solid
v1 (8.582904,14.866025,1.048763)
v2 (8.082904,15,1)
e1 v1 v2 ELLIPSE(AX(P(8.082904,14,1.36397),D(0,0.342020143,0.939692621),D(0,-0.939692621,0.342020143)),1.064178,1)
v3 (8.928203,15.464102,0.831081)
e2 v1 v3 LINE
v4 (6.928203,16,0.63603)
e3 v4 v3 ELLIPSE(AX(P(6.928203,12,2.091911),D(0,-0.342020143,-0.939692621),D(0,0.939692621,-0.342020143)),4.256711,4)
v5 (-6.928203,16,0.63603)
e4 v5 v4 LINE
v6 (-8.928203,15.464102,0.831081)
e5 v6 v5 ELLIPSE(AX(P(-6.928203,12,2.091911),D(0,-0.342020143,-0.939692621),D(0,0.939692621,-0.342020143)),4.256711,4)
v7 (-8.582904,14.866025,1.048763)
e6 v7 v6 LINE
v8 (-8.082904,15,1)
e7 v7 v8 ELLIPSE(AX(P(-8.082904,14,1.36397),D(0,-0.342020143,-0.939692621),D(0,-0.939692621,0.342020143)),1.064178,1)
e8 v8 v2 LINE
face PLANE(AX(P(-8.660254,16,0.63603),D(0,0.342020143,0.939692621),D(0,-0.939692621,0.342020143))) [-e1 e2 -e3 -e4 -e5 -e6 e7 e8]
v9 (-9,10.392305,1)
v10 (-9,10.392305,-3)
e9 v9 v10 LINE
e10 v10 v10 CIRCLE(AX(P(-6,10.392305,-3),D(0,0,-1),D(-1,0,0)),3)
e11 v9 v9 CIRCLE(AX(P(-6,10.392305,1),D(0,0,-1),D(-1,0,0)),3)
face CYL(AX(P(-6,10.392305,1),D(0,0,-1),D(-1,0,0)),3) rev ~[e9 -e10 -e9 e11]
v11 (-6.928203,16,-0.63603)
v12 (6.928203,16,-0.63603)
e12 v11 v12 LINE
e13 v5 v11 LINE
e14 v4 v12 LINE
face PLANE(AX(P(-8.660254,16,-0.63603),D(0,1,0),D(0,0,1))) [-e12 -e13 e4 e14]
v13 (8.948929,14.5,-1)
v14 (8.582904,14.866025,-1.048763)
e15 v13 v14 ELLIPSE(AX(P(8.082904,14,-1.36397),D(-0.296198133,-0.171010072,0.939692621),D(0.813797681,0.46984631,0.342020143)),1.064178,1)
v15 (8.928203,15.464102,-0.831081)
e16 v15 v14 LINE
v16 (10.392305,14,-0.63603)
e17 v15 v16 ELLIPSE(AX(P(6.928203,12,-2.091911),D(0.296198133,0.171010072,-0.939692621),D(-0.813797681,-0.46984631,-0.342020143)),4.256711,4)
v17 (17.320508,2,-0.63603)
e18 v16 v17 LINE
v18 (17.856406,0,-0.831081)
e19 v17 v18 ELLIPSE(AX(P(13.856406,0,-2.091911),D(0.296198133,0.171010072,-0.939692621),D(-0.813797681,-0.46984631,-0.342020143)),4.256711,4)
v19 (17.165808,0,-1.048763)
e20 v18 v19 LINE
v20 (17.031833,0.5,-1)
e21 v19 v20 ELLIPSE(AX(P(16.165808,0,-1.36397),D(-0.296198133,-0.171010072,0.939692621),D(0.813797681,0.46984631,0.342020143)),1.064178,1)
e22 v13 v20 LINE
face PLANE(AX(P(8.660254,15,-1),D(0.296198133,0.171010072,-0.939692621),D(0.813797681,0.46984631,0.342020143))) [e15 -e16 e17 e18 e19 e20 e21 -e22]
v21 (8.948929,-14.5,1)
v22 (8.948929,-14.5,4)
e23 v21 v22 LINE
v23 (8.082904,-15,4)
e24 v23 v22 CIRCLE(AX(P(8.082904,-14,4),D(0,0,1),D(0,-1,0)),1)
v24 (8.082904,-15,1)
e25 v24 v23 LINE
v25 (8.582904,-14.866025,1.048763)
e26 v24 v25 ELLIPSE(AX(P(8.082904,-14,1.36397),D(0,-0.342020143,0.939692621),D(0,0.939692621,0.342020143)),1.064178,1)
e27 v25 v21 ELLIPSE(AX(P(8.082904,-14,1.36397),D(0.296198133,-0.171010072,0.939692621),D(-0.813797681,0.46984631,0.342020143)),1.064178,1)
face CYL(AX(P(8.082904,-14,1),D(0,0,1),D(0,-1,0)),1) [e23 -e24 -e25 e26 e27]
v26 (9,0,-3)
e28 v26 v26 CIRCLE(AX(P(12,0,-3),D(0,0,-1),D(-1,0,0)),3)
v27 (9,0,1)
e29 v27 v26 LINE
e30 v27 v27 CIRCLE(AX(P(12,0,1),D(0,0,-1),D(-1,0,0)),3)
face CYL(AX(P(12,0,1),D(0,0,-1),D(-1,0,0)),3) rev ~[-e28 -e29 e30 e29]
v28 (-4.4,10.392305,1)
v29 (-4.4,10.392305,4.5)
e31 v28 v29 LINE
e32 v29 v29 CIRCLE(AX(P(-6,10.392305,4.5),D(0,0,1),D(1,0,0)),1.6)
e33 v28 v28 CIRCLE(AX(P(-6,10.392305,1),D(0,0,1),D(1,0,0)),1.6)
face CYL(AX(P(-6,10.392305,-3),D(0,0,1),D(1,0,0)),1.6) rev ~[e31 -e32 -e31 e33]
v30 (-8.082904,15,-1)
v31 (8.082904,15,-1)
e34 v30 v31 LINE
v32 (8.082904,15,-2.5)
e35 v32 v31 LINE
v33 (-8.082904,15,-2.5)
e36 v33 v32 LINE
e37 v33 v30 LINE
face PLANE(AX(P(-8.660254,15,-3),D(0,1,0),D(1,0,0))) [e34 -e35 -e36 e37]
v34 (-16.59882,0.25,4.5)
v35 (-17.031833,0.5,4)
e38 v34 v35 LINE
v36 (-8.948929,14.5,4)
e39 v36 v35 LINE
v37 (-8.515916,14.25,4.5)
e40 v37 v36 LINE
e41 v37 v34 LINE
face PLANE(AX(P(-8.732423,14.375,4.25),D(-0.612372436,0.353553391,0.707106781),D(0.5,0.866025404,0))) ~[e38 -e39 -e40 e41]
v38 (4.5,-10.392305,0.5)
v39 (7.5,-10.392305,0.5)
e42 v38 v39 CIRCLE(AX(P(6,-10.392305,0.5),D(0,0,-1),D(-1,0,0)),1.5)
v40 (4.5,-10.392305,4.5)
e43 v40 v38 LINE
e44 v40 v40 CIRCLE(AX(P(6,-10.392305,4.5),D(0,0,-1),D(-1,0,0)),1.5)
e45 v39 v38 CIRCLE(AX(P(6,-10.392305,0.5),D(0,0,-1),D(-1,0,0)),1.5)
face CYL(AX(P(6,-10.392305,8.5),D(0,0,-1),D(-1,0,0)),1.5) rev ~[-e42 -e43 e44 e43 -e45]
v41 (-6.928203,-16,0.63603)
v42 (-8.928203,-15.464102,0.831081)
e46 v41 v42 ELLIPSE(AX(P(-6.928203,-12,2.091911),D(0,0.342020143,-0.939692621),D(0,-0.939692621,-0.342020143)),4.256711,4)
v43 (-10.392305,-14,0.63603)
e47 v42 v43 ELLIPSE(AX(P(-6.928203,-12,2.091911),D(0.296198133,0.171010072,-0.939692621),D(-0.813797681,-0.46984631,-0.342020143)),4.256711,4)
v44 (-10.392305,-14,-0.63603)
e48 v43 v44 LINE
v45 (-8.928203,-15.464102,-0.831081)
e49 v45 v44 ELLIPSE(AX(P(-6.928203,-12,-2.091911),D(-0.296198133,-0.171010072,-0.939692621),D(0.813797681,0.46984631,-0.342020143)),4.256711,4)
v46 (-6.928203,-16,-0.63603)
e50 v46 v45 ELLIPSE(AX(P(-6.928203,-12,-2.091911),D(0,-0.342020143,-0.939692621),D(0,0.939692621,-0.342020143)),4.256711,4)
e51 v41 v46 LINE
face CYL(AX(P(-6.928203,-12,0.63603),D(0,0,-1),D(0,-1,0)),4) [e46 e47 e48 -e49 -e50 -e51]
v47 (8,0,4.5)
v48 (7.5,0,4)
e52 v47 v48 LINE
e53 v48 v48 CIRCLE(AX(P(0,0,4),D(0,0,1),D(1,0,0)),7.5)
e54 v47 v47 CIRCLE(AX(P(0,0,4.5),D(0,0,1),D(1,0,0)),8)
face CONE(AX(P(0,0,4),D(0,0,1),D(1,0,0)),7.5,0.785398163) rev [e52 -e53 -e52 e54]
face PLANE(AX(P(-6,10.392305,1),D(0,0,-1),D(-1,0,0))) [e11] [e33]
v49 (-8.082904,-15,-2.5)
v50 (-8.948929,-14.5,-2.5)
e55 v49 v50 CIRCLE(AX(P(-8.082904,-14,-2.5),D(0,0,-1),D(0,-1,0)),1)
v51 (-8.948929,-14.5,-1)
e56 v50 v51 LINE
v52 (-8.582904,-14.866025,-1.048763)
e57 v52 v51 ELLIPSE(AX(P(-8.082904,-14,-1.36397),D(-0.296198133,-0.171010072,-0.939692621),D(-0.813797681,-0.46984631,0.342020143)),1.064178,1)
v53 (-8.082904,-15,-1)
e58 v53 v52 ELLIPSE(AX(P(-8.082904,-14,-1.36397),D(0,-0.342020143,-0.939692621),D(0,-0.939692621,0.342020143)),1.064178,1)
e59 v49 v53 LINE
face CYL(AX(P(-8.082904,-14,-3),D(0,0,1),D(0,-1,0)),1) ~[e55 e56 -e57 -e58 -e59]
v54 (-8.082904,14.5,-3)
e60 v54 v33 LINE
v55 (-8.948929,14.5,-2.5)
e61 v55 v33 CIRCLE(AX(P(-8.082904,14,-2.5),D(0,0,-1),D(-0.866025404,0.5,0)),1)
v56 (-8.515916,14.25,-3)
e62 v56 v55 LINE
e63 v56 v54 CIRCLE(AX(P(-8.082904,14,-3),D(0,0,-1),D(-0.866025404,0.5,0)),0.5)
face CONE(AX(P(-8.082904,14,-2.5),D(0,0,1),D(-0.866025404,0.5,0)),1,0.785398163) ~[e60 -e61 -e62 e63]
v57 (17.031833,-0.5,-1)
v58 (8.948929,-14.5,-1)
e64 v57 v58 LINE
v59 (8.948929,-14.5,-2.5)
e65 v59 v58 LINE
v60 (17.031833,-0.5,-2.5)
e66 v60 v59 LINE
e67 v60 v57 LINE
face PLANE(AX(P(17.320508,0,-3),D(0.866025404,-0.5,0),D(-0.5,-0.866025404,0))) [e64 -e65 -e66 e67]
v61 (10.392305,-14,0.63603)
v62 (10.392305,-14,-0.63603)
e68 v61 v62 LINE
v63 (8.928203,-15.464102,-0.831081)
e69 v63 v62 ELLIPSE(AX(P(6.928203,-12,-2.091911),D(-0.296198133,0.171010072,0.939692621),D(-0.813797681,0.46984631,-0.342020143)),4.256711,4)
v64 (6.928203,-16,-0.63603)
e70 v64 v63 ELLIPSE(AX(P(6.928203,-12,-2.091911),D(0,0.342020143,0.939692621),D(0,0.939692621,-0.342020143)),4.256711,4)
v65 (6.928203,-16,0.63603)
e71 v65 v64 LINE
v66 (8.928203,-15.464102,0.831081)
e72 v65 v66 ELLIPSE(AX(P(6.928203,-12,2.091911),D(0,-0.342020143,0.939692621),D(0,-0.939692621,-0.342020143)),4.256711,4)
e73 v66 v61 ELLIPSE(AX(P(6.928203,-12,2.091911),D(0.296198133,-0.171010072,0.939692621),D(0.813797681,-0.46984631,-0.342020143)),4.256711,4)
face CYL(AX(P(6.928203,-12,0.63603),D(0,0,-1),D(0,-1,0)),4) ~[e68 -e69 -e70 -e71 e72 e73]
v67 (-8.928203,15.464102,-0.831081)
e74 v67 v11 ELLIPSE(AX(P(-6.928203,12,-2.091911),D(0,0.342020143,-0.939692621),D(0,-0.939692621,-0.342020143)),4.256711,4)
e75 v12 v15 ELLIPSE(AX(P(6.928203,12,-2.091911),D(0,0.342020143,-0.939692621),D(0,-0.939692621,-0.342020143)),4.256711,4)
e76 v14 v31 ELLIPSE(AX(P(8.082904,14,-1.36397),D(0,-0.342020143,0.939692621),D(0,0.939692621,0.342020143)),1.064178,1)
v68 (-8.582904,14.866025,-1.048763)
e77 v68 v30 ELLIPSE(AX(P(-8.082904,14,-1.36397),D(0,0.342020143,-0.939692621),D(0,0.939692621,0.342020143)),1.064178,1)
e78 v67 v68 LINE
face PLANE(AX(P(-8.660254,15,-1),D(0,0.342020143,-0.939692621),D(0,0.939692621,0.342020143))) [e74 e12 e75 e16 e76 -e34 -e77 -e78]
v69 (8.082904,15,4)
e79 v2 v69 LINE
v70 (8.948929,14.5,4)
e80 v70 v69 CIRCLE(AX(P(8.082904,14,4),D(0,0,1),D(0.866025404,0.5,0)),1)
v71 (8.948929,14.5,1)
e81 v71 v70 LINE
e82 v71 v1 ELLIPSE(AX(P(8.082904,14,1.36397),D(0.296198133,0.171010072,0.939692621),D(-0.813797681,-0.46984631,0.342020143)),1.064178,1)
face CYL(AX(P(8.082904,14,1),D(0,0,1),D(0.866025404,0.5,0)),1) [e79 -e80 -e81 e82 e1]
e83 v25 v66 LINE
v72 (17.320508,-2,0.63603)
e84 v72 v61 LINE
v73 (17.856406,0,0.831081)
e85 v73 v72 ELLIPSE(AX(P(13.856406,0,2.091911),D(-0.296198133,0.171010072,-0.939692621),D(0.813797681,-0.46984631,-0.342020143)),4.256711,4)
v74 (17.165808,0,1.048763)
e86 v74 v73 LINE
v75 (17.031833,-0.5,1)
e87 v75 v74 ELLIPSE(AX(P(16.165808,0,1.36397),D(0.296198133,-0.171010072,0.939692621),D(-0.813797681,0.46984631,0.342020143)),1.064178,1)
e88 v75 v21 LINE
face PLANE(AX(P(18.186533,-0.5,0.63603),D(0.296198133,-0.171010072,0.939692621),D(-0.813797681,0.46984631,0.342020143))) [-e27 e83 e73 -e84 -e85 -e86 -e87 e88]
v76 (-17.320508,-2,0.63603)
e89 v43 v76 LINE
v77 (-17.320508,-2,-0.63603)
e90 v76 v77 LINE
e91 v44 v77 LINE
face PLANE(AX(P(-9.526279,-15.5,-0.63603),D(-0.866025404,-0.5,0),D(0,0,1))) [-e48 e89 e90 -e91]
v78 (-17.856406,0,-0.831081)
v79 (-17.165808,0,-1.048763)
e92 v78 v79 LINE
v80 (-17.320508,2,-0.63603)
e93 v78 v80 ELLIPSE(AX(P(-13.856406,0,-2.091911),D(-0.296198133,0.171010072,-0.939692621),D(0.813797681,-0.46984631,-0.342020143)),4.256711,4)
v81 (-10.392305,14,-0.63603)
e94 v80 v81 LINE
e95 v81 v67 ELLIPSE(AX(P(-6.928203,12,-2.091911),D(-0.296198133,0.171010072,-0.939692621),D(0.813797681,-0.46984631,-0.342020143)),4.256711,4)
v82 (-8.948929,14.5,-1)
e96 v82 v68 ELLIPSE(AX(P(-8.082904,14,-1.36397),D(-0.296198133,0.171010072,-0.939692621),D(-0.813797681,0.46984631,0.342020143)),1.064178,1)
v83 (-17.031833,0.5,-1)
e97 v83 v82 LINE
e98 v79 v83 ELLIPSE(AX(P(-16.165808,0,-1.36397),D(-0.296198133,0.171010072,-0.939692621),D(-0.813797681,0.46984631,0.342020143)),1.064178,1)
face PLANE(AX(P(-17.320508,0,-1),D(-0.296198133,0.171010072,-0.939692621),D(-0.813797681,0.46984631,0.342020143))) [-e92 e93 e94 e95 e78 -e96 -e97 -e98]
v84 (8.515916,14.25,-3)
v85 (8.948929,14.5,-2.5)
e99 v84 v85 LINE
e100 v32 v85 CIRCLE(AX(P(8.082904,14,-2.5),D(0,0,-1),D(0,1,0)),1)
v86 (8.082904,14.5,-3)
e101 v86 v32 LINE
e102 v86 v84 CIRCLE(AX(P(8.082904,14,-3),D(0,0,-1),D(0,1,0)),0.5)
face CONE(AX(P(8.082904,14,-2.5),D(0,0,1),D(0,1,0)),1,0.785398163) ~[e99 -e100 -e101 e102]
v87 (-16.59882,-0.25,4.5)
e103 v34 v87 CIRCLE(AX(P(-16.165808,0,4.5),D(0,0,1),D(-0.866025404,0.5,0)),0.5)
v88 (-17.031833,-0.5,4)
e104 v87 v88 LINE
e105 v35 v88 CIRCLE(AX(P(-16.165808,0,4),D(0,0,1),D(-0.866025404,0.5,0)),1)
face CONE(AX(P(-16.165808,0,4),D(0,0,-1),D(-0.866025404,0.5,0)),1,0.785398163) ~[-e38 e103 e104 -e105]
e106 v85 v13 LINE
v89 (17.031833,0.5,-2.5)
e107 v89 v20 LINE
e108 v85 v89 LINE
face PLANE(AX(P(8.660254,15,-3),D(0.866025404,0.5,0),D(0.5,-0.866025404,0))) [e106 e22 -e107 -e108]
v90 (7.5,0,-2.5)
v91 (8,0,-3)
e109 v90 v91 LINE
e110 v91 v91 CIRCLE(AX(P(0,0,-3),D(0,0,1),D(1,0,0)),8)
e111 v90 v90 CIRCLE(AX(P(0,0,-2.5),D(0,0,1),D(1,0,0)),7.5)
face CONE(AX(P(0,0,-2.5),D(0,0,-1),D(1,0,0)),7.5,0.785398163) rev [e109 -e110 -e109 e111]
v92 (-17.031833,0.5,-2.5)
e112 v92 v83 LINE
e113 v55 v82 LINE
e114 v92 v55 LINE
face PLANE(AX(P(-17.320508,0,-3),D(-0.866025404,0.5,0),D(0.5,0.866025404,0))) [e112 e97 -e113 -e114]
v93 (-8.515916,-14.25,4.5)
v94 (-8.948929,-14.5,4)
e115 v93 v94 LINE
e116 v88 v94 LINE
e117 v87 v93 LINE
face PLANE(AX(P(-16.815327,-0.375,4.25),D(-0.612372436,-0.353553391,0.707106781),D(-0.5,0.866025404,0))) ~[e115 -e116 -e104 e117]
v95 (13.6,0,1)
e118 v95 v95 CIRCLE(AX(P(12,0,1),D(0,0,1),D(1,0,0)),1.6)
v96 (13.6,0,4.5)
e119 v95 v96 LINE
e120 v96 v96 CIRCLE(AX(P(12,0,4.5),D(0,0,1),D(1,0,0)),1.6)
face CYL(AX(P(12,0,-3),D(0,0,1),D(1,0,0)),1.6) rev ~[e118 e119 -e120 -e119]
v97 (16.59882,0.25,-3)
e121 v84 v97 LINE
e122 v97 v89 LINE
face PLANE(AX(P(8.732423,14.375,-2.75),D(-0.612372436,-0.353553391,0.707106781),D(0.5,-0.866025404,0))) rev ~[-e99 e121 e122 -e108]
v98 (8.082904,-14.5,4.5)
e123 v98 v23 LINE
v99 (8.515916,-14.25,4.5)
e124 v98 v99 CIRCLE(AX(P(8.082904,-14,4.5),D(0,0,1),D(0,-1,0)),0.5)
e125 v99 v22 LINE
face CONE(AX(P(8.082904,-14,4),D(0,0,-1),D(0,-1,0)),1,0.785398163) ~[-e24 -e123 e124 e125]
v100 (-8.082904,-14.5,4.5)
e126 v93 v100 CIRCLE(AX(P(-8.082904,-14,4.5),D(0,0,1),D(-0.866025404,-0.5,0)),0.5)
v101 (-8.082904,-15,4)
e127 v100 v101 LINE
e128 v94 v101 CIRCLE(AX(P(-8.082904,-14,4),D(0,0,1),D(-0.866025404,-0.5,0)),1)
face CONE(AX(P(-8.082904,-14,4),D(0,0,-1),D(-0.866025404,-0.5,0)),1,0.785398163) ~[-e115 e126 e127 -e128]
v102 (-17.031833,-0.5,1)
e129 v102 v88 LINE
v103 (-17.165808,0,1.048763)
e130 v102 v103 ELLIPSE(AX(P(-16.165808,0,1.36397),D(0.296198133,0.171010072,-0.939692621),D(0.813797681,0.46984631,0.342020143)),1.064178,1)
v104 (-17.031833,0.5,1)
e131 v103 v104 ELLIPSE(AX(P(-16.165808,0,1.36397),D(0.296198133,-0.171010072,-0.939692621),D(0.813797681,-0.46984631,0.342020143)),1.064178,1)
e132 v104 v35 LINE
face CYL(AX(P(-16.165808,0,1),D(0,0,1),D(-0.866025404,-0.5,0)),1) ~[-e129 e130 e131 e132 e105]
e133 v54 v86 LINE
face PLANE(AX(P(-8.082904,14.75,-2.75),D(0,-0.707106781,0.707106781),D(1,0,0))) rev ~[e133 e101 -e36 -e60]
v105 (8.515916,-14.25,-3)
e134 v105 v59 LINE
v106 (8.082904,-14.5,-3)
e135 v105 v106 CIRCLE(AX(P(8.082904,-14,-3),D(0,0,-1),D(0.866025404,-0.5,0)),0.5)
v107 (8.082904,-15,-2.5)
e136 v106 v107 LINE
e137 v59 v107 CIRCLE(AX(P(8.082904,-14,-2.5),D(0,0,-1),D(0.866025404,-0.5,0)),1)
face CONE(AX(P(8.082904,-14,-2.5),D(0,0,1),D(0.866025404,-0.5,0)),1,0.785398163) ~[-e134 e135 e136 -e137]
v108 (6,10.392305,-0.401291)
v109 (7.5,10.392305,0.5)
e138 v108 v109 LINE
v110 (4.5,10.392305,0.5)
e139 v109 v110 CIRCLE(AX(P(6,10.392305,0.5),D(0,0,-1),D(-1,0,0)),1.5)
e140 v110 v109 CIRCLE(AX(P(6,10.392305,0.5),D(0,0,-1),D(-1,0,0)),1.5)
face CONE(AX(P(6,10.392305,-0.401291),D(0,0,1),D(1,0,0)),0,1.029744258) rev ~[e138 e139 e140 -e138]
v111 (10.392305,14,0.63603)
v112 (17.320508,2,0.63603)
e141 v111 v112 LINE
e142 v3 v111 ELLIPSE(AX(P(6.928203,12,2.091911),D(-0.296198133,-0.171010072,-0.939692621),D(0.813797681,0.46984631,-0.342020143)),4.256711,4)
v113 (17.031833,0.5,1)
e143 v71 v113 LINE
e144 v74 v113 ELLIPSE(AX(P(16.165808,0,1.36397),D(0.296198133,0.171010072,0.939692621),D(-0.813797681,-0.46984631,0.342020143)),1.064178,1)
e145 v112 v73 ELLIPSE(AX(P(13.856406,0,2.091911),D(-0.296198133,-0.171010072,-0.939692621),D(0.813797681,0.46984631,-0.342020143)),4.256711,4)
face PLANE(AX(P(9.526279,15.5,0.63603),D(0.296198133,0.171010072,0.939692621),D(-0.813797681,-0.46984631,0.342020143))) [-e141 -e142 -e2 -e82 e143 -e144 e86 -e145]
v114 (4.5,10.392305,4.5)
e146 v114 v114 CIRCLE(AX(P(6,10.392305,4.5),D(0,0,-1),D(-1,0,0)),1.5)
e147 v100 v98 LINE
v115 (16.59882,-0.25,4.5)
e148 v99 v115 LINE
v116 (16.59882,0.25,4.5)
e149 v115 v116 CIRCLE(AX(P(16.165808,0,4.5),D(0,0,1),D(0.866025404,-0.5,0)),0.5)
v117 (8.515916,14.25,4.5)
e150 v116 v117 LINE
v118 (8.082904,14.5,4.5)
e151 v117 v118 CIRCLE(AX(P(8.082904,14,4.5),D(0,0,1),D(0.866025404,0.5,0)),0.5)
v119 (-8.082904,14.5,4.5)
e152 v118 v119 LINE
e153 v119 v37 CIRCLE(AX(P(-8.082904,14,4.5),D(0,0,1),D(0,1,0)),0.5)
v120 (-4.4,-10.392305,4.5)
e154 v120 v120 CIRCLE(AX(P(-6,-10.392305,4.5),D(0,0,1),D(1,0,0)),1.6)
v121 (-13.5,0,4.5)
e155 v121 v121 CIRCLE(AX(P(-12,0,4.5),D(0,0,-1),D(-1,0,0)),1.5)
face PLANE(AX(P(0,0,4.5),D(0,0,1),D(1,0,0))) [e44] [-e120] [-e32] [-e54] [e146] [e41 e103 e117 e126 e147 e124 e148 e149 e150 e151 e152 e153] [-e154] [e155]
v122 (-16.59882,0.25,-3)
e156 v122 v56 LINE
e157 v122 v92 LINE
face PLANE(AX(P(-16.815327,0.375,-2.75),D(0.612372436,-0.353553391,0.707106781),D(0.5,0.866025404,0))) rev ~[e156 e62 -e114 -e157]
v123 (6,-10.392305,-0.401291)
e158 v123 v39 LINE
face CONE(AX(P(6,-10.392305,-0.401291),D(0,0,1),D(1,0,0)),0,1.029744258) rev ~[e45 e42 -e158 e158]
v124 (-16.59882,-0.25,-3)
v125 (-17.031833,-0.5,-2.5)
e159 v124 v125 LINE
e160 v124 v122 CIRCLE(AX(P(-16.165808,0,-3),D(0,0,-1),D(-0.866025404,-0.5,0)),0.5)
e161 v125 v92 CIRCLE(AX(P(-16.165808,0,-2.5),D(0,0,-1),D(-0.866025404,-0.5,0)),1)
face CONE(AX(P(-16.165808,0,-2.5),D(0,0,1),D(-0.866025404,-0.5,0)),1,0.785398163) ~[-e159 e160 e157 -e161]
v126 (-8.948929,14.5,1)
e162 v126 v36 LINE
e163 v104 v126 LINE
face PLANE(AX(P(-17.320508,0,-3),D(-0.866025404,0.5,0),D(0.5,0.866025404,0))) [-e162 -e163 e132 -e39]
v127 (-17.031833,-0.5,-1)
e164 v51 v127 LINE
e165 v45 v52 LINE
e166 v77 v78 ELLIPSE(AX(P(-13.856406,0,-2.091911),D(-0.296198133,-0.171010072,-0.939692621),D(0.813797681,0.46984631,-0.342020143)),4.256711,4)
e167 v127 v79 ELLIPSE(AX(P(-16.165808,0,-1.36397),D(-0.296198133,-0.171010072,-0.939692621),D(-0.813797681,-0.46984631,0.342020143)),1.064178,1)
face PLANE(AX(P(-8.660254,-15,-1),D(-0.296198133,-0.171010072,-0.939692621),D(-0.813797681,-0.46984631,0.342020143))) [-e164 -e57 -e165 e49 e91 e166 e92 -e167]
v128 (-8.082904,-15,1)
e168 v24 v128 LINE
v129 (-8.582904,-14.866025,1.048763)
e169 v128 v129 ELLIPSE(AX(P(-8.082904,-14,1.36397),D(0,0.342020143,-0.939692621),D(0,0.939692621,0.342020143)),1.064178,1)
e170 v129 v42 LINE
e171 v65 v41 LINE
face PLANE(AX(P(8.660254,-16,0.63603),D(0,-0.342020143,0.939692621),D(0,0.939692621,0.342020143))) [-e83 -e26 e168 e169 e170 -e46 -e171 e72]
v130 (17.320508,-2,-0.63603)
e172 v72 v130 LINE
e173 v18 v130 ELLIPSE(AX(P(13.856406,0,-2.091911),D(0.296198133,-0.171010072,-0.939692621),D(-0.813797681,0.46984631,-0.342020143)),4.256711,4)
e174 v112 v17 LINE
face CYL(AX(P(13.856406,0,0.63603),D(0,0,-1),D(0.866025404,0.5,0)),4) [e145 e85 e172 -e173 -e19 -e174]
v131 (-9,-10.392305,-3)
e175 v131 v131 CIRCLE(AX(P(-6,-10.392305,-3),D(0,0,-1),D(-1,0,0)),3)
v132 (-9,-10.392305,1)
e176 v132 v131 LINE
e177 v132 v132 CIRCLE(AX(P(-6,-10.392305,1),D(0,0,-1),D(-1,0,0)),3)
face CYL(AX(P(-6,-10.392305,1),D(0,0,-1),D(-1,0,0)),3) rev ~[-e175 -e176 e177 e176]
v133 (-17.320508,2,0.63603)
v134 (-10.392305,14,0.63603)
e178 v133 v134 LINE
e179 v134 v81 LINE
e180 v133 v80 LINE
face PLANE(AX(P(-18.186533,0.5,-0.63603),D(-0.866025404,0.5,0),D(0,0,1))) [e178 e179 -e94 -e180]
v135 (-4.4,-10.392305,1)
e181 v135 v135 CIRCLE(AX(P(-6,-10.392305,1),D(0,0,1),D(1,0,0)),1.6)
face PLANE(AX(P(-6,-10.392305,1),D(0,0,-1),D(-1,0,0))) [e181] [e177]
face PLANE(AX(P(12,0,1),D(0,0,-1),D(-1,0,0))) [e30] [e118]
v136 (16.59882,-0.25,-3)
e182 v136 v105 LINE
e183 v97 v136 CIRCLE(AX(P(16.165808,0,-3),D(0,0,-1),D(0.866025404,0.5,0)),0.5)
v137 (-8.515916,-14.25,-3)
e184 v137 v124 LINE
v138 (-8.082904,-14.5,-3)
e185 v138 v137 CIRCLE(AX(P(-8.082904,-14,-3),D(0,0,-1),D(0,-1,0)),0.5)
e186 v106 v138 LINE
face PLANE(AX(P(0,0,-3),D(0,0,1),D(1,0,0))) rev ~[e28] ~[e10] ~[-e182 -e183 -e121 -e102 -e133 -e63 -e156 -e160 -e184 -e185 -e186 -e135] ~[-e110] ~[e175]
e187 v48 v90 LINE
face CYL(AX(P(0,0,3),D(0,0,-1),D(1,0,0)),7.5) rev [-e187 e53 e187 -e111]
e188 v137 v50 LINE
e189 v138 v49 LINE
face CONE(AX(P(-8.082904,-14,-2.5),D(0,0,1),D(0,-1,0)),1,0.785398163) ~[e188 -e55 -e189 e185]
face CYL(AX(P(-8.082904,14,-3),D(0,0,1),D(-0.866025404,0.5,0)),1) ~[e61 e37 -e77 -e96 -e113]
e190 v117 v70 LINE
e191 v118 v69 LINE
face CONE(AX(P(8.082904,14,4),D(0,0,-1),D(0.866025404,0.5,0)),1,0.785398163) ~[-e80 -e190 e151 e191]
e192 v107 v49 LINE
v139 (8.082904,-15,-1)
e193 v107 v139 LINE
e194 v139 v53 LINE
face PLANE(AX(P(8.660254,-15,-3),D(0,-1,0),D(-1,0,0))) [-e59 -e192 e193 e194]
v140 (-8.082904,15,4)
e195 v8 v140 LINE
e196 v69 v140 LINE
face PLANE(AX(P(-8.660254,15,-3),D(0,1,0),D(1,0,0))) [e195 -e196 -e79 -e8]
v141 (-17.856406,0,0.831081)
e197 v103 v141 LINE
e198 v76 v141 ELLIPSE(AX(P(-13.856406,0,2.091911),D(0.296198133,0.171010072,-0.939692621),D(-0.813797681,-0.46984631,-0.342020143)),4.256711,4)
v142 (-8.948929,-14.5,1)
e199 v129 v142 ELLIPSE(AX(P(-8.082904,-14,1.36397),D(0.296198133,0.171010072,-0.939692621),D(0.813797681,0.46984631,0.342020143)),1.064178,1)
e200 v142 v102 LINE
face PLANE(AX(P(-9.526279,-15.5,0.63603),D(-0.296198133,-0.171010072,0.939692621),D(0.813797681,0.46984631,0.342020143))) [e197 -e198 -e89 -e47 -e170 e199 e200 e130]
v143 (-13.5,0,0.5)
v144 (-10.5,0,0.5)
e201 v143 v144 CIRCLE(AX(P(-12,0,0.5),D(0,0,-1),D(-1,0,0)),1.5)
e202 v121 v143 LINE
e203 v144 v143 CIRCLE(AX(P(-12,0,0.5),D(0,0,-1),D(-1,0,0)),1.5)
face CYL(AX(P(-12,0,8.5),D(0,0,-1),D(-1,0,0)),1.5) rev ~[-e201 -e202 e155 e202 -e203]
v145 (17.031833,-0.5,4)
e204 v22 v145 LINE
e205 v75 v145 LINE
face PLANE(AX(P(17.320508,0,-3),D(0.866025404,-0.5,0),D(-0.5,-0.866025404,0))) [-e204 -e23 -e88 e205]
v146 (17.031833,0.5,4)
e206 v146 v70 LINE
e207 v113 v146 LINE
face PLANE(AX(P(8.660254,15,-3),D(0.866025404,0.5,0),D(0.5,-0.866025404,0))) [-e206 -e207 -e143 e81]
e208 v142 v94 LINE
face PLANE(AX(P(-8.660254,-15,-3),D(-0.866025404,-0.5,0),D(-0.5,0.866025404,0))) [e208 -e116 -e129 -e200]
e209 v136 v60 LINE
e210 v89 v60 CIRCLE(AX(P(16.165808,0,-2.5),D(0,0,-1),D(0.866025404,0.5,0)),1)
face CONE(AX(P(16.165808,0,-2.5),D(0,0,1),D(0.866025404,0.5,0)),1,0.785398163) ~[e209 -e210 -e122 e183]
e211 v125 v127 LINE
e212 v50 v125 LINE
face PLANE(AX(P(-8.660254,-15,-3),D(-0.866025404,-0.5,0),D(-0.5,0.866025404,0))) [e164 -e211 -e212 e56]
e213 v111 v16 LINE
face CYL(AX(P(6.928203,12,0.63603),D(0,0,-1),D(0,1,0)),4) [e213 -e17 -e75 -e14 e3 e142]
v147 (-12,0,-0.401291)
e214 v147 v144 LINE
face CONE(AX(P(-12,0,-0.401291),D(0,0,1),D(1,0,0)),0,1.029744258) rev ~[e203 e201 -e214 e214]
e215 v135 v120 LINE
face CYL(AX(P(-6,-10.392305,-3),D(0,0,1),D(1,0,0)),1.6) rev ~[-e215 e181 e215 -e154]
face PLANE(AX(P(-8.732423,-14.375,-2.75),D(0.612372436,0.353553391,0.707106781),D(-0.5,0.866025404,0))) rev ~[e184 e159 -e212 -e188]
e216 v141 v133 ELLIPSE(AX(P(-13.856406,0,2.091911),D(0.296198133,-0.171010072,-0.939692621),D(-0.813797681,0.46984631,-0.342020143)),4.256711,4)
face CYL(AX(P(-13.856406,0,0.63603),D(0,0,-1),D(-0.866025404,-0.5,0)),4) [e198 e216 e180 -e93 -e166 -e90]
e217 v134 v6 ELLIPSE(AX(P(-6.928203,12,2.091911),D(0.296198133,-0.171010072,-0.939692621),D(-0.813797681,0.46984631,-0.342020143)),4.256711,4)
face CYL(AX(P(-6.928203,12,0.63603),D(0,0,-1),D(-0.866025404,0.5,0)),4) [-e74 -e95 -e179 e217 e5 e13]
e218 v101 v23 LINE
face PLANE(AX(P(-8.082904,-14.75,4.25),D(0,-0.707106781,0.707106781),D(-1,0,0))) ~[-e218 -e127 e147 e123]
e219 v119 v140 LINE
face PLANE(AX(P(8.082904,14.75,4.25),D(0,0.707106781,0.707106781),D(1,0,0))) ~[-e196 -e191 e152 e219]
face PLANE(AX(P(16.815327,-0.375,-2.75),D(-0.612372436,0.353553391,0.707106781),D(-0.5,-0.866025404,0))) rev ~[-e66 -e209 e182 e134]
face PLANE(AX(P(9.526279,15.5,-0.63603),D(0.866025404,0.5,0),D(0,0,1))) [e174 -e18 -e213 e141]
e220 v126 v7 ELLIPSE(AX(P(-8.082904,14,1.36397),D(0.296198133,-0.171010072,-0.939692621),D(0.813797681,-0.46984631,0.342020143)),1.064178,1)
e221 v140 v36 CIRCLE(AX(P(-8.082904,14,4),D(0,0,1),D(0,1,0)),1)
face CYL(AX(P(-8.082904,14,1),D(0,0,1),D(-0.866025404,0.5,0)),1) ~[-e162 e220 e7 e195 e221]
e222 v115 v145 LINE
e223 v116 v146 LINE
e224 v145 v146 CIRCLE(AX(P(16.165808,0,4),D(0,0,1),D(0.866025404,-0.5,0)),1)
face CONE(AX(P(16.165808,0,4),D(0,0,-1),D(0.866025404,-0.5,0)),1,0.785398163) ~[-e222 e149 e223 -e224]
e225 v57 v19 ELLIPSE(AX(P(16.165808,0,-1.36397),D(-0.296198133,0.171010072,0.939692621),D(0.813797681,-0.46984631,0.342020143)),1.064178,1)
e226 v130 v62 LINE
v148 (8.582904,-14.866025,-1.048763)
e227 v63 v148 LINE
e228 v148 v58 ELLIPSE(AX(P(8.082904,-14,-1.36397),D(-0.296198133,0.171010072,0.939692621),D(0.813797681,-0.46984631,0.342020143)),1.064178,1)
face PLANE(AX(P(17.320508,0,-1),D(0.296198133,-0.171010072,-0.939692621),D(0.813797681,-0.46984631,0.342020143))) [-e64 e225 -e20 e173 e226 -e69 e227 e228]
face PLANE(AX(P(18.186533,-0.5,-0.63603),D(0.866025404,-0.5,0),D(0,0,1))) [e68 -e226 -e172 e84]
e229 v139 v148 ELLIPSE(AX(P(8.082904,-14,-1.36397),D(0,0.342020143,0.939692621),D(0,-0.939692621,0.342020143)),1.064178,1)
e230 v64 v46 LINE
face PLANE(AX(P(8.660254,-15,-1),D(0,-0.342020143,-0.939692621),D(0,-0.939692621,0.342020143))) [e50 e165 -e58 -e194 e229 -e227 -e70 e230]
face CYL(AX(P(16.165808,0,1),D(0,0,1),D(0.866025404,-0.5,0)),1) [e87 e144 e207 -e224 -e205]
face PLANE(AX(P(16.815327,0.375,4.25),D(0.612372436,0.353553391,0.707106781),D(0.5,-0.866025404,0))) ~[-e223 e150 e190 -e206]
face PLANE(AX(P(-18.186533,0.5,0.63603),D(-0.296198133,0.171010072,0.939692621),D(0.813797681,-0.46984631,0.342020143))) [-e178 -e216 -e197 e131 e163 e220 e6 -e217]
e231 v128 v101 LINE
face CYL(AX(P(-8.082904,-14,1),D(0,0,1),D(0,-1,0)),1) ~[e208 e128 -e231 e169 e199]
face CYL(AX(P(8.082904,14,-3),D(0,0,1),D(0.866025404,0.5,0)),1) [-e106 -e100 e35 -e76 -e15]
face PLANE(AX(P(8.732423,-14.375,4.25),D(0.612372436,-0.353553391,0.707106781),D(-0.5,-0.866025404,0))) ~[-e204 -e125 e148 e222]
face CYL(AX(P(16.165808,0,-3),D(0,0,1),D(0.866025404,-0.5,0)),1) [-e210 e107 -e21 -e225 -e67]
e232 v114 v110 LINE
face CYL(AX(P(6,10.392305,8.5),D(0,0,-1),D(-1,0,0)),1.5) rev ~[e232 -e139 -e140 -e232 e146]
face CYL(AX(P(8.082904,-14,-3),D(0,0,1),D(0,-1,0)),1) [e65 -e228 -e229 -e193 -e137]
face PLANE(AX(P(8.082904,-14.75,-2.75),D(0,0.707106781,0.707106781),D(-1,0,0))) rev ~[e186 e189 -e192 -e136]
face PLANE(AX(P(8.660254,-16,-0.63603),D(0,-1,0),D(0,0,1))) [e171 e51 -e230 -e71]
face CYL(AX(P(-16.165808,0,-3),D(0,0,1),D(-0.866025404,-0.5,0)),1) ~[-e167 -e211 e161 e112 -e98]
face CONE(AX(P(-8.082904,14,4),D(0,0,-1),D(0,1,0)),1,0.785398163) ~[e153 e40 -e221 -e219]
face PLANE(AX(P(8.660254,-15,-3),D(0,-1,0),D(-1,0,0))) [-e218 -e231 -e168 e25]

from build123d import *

# Parameters (mm, degrees)
SKETCH_1_W                   = 40
SKETCH_1_H                   = 40
SKETCH_1_R                   = 7.5
EXTRUDE_1_DEPTH              = 3
SKETCH_23_W                  = 40
SKETCH_23_H                  = 40
SKETCH_23_R                  = 7.5
EXTRUDE_4_DEPTH              = 1.5
HOLE_WIZARD_M3_1_D           = 3.2
HOLE_WIZARD_M3_1_CBORE_D     = 6
HOLE_WIZARD_M3_1_CBORE_DEPTH = 4
F_3_0MM_1_D                  = 3
F_3_0MM_1_DEPTH              = 4
F_3_0MM_1_TIP                = 0.901290929
SKETCH_26_OUTSIDE_W          = 53.412
SKETCH_26_OUTSIDE_H          = 53.412
CUT_EXTRUDE_1_DEPTH          = 30.261749777
FILLET_2_R                   = 4
FILLET_3_R                   = 1
CHAMFER_1_SIZE               = 0.5


with BuildPart() as part:
    # 草图1 → 凸台-拉伸1 (new, symmetric)
    with BuildSketch(Plane.XY):
        Rectangle(SKETCH_1_W, SKETCH_1_H)
        Circle(SKETCH_1_R, mode=Mode.SUBTRACT)
    extrude(amount=EXTRUDE_1_DEPTH, both=True)

    # 草图23 → 凸台-拉伸4 (add)
    with BuildSketch(Plane.XY.offset(3)):
        Rectangle(SKETCH_23_W, SKETCH_23_H)
        Circle(SKETCH_23_R, mode=Mode.SUBTRACT)
    extrude(amount=EXTRUDE_4_DEPTH)

    # M3 六角圆柱头螺钉的柱形沉头孔1 (through all)
    with Locations(Plane(origin=(0, 0, -3), x_dir=(-1, 0, 0), z_dir=(0, 0, -1))):
        with Locations((-12, 0), (6, 10.392304845), (6, -10.392304845)):
            CounterBoreHole(HOLE_WIZARD_M3_1_D / 2, HOLE_WIZARD_M3_1_CBORE_D / 2, HOLE_WIZARD_M3_1_CBORE_DEPTH)

    # Ø3.0mm 暗销孔1
    with Locations(Plane.XY.offset(4.5)):
        with Locations((-12, 0), (6, 10.392304845), (6, -10.392304845)):
            Hole(F_3_0MM_1_D / 2, depth=F_3_0MM_1_DEPTH)
            with Locations((0, 0, -(F_3_0MM_1_DEPTH + F_3_0MM_1_TIP / 2))):  # 118° drill point
                Cone(0, F_3_0MM_1_D / 2, F_3_0MM_1_TIP, mode=Mode.SUBTRACT)

    # 草图26 outside → 切除-拉伸1 (cut, through all)
    with BuildSketch(Plane(origin=(0, 0, -3), x_dir=(-1, 0, 0), z_dir=(0, 0, -1))):
        Rectangle(SKETCH_26_OUTSIDE_W, SKETCH_26_OUTSIDE_H)
        Polygon((-17.320508076, 0), (-8.660254038, -15), (8.660254038, -15), (17.320508076, 0), (8.660254038, 15), (-8.660254038, 15), align=None, mode=Mode.SUBTRACT)
    extrude(amount=-CUT_EXTRUDE_1_DEPTH, mode=Mode.SUBTRACT)

    # 扫描1: sweep along a path in 草图44
    with BuildLine(Plane(origin=(0, 0, -1), x_dir=(-1, 0, 0), z_dir=(0, 0, -1))) as sweep_1_path:
        Line((-17.320508076, 0), (-8.660254038, -15))
        Line((-8.660254038, -15), (8.660254038, -15))
        Line((8.660254038, -15), (17.320508076, 0))
        Line((17.320508076, 0), (8.660254038, 15))
        Line((8.660254038, 15), (-8.660254038, 15))
        Line((-8.660254038, 15), (-17.320508076, 0))
    # 草图43 → 扫描1 (sweep)
    with BuildSketch(Plane(origin=(0, 0, 0), x_dir=(0, 0, -1), z_dir=(1, 0, 0))):
        Polygon((-1, 15), (1, 15), (0.636029766, 16), (-0.636029766, 16), align=None)
    sweep(path=sweep_1_path.line, transition=Transition.RIGHT)

    # 圆角2
    fillet_2_edges = [part.edges().sort_by_distance(p)[0] for p in [
        (-18.475208614, 0, 0),
        (-9.237604307, 16, 0),
        (-9.237604307, -16, 0),
        (9.237604307, 16, 0),
        (9.237604307, -16, 0),
        (18.475208614, 0, 0),
    ]]
    fillet(fillet_2_edges, radius=FILLET_2_R)

    # 圆角3
    fillet_3_edges = [part.edges().sort_by_distance(p)[0] for p in [
        (17.320508076, 0, -2),
        (8.660254038, -15, -2),
        (-8.660254038, -15, -2),
        (-17.320508076, 0, -2),
        (-8.660254038, 15, -2),
        (8.660254038, 15, -2),
        (8.660254038, 15, 2.75),
        (-8.660254038, 15, 2.75),
        (-17.320508076, 0, 2.75),
        (-8.660254038, -15, 2.75),
        (8.660254038, -15, 2.75),
        (17.320508076, 0, 2.75),
    ]]
    fillet(fillet_3_edges, radius=FILLET_3_R)

    # 倒角1
    chamfer_1_edges = [part.edges().sort_by_distance(p)[0] for p in [
        (-7.5, 0, -3),
        (-12.990381057, 7.5, -3),
        (12.990381057, 7.5, -3),
        (12.990381057, -7.5, -3),
        (0, -15, -3),
        (-12.990381057, -7.5, -3),
        (-7.5, 0, 4.5),
        (0, 15, -3),
        (8.582903769, 14.866025404, -3),
        (17.165807537, 0, -3),
        (8.582903769, -14.866025404, -3),
        (-8.582903769, -14.866025404, -3),
        (-17.165807537, 0, -3),
        (-8.582903769, 14.866025404, -3),
        (-12.990381057, 7.5, 4.5),
        (0, 15, 4.5),
        (12.990381057, -7.5, 4.5),
        (12.990381057, 7.5, 4.5),
        (-12.990381057, -7.5, 4.5),
        (0, -15, 4.5),
        (8.582903769, 14.866025404, 4.5),
        (17.165807537, 0, 4.5),
        (8.582903769, -14.866025404, 4.5),
        (-8.582903769, -14.866025404, 4.5),
        (-17.165807537, 0, 4.5),
        (-8.582903769, 14.866025404, 4.5),
    ]]
    chamfer(chamfer_1_edges, length=CHAMFER_1_SIZE)


solid = part.part
